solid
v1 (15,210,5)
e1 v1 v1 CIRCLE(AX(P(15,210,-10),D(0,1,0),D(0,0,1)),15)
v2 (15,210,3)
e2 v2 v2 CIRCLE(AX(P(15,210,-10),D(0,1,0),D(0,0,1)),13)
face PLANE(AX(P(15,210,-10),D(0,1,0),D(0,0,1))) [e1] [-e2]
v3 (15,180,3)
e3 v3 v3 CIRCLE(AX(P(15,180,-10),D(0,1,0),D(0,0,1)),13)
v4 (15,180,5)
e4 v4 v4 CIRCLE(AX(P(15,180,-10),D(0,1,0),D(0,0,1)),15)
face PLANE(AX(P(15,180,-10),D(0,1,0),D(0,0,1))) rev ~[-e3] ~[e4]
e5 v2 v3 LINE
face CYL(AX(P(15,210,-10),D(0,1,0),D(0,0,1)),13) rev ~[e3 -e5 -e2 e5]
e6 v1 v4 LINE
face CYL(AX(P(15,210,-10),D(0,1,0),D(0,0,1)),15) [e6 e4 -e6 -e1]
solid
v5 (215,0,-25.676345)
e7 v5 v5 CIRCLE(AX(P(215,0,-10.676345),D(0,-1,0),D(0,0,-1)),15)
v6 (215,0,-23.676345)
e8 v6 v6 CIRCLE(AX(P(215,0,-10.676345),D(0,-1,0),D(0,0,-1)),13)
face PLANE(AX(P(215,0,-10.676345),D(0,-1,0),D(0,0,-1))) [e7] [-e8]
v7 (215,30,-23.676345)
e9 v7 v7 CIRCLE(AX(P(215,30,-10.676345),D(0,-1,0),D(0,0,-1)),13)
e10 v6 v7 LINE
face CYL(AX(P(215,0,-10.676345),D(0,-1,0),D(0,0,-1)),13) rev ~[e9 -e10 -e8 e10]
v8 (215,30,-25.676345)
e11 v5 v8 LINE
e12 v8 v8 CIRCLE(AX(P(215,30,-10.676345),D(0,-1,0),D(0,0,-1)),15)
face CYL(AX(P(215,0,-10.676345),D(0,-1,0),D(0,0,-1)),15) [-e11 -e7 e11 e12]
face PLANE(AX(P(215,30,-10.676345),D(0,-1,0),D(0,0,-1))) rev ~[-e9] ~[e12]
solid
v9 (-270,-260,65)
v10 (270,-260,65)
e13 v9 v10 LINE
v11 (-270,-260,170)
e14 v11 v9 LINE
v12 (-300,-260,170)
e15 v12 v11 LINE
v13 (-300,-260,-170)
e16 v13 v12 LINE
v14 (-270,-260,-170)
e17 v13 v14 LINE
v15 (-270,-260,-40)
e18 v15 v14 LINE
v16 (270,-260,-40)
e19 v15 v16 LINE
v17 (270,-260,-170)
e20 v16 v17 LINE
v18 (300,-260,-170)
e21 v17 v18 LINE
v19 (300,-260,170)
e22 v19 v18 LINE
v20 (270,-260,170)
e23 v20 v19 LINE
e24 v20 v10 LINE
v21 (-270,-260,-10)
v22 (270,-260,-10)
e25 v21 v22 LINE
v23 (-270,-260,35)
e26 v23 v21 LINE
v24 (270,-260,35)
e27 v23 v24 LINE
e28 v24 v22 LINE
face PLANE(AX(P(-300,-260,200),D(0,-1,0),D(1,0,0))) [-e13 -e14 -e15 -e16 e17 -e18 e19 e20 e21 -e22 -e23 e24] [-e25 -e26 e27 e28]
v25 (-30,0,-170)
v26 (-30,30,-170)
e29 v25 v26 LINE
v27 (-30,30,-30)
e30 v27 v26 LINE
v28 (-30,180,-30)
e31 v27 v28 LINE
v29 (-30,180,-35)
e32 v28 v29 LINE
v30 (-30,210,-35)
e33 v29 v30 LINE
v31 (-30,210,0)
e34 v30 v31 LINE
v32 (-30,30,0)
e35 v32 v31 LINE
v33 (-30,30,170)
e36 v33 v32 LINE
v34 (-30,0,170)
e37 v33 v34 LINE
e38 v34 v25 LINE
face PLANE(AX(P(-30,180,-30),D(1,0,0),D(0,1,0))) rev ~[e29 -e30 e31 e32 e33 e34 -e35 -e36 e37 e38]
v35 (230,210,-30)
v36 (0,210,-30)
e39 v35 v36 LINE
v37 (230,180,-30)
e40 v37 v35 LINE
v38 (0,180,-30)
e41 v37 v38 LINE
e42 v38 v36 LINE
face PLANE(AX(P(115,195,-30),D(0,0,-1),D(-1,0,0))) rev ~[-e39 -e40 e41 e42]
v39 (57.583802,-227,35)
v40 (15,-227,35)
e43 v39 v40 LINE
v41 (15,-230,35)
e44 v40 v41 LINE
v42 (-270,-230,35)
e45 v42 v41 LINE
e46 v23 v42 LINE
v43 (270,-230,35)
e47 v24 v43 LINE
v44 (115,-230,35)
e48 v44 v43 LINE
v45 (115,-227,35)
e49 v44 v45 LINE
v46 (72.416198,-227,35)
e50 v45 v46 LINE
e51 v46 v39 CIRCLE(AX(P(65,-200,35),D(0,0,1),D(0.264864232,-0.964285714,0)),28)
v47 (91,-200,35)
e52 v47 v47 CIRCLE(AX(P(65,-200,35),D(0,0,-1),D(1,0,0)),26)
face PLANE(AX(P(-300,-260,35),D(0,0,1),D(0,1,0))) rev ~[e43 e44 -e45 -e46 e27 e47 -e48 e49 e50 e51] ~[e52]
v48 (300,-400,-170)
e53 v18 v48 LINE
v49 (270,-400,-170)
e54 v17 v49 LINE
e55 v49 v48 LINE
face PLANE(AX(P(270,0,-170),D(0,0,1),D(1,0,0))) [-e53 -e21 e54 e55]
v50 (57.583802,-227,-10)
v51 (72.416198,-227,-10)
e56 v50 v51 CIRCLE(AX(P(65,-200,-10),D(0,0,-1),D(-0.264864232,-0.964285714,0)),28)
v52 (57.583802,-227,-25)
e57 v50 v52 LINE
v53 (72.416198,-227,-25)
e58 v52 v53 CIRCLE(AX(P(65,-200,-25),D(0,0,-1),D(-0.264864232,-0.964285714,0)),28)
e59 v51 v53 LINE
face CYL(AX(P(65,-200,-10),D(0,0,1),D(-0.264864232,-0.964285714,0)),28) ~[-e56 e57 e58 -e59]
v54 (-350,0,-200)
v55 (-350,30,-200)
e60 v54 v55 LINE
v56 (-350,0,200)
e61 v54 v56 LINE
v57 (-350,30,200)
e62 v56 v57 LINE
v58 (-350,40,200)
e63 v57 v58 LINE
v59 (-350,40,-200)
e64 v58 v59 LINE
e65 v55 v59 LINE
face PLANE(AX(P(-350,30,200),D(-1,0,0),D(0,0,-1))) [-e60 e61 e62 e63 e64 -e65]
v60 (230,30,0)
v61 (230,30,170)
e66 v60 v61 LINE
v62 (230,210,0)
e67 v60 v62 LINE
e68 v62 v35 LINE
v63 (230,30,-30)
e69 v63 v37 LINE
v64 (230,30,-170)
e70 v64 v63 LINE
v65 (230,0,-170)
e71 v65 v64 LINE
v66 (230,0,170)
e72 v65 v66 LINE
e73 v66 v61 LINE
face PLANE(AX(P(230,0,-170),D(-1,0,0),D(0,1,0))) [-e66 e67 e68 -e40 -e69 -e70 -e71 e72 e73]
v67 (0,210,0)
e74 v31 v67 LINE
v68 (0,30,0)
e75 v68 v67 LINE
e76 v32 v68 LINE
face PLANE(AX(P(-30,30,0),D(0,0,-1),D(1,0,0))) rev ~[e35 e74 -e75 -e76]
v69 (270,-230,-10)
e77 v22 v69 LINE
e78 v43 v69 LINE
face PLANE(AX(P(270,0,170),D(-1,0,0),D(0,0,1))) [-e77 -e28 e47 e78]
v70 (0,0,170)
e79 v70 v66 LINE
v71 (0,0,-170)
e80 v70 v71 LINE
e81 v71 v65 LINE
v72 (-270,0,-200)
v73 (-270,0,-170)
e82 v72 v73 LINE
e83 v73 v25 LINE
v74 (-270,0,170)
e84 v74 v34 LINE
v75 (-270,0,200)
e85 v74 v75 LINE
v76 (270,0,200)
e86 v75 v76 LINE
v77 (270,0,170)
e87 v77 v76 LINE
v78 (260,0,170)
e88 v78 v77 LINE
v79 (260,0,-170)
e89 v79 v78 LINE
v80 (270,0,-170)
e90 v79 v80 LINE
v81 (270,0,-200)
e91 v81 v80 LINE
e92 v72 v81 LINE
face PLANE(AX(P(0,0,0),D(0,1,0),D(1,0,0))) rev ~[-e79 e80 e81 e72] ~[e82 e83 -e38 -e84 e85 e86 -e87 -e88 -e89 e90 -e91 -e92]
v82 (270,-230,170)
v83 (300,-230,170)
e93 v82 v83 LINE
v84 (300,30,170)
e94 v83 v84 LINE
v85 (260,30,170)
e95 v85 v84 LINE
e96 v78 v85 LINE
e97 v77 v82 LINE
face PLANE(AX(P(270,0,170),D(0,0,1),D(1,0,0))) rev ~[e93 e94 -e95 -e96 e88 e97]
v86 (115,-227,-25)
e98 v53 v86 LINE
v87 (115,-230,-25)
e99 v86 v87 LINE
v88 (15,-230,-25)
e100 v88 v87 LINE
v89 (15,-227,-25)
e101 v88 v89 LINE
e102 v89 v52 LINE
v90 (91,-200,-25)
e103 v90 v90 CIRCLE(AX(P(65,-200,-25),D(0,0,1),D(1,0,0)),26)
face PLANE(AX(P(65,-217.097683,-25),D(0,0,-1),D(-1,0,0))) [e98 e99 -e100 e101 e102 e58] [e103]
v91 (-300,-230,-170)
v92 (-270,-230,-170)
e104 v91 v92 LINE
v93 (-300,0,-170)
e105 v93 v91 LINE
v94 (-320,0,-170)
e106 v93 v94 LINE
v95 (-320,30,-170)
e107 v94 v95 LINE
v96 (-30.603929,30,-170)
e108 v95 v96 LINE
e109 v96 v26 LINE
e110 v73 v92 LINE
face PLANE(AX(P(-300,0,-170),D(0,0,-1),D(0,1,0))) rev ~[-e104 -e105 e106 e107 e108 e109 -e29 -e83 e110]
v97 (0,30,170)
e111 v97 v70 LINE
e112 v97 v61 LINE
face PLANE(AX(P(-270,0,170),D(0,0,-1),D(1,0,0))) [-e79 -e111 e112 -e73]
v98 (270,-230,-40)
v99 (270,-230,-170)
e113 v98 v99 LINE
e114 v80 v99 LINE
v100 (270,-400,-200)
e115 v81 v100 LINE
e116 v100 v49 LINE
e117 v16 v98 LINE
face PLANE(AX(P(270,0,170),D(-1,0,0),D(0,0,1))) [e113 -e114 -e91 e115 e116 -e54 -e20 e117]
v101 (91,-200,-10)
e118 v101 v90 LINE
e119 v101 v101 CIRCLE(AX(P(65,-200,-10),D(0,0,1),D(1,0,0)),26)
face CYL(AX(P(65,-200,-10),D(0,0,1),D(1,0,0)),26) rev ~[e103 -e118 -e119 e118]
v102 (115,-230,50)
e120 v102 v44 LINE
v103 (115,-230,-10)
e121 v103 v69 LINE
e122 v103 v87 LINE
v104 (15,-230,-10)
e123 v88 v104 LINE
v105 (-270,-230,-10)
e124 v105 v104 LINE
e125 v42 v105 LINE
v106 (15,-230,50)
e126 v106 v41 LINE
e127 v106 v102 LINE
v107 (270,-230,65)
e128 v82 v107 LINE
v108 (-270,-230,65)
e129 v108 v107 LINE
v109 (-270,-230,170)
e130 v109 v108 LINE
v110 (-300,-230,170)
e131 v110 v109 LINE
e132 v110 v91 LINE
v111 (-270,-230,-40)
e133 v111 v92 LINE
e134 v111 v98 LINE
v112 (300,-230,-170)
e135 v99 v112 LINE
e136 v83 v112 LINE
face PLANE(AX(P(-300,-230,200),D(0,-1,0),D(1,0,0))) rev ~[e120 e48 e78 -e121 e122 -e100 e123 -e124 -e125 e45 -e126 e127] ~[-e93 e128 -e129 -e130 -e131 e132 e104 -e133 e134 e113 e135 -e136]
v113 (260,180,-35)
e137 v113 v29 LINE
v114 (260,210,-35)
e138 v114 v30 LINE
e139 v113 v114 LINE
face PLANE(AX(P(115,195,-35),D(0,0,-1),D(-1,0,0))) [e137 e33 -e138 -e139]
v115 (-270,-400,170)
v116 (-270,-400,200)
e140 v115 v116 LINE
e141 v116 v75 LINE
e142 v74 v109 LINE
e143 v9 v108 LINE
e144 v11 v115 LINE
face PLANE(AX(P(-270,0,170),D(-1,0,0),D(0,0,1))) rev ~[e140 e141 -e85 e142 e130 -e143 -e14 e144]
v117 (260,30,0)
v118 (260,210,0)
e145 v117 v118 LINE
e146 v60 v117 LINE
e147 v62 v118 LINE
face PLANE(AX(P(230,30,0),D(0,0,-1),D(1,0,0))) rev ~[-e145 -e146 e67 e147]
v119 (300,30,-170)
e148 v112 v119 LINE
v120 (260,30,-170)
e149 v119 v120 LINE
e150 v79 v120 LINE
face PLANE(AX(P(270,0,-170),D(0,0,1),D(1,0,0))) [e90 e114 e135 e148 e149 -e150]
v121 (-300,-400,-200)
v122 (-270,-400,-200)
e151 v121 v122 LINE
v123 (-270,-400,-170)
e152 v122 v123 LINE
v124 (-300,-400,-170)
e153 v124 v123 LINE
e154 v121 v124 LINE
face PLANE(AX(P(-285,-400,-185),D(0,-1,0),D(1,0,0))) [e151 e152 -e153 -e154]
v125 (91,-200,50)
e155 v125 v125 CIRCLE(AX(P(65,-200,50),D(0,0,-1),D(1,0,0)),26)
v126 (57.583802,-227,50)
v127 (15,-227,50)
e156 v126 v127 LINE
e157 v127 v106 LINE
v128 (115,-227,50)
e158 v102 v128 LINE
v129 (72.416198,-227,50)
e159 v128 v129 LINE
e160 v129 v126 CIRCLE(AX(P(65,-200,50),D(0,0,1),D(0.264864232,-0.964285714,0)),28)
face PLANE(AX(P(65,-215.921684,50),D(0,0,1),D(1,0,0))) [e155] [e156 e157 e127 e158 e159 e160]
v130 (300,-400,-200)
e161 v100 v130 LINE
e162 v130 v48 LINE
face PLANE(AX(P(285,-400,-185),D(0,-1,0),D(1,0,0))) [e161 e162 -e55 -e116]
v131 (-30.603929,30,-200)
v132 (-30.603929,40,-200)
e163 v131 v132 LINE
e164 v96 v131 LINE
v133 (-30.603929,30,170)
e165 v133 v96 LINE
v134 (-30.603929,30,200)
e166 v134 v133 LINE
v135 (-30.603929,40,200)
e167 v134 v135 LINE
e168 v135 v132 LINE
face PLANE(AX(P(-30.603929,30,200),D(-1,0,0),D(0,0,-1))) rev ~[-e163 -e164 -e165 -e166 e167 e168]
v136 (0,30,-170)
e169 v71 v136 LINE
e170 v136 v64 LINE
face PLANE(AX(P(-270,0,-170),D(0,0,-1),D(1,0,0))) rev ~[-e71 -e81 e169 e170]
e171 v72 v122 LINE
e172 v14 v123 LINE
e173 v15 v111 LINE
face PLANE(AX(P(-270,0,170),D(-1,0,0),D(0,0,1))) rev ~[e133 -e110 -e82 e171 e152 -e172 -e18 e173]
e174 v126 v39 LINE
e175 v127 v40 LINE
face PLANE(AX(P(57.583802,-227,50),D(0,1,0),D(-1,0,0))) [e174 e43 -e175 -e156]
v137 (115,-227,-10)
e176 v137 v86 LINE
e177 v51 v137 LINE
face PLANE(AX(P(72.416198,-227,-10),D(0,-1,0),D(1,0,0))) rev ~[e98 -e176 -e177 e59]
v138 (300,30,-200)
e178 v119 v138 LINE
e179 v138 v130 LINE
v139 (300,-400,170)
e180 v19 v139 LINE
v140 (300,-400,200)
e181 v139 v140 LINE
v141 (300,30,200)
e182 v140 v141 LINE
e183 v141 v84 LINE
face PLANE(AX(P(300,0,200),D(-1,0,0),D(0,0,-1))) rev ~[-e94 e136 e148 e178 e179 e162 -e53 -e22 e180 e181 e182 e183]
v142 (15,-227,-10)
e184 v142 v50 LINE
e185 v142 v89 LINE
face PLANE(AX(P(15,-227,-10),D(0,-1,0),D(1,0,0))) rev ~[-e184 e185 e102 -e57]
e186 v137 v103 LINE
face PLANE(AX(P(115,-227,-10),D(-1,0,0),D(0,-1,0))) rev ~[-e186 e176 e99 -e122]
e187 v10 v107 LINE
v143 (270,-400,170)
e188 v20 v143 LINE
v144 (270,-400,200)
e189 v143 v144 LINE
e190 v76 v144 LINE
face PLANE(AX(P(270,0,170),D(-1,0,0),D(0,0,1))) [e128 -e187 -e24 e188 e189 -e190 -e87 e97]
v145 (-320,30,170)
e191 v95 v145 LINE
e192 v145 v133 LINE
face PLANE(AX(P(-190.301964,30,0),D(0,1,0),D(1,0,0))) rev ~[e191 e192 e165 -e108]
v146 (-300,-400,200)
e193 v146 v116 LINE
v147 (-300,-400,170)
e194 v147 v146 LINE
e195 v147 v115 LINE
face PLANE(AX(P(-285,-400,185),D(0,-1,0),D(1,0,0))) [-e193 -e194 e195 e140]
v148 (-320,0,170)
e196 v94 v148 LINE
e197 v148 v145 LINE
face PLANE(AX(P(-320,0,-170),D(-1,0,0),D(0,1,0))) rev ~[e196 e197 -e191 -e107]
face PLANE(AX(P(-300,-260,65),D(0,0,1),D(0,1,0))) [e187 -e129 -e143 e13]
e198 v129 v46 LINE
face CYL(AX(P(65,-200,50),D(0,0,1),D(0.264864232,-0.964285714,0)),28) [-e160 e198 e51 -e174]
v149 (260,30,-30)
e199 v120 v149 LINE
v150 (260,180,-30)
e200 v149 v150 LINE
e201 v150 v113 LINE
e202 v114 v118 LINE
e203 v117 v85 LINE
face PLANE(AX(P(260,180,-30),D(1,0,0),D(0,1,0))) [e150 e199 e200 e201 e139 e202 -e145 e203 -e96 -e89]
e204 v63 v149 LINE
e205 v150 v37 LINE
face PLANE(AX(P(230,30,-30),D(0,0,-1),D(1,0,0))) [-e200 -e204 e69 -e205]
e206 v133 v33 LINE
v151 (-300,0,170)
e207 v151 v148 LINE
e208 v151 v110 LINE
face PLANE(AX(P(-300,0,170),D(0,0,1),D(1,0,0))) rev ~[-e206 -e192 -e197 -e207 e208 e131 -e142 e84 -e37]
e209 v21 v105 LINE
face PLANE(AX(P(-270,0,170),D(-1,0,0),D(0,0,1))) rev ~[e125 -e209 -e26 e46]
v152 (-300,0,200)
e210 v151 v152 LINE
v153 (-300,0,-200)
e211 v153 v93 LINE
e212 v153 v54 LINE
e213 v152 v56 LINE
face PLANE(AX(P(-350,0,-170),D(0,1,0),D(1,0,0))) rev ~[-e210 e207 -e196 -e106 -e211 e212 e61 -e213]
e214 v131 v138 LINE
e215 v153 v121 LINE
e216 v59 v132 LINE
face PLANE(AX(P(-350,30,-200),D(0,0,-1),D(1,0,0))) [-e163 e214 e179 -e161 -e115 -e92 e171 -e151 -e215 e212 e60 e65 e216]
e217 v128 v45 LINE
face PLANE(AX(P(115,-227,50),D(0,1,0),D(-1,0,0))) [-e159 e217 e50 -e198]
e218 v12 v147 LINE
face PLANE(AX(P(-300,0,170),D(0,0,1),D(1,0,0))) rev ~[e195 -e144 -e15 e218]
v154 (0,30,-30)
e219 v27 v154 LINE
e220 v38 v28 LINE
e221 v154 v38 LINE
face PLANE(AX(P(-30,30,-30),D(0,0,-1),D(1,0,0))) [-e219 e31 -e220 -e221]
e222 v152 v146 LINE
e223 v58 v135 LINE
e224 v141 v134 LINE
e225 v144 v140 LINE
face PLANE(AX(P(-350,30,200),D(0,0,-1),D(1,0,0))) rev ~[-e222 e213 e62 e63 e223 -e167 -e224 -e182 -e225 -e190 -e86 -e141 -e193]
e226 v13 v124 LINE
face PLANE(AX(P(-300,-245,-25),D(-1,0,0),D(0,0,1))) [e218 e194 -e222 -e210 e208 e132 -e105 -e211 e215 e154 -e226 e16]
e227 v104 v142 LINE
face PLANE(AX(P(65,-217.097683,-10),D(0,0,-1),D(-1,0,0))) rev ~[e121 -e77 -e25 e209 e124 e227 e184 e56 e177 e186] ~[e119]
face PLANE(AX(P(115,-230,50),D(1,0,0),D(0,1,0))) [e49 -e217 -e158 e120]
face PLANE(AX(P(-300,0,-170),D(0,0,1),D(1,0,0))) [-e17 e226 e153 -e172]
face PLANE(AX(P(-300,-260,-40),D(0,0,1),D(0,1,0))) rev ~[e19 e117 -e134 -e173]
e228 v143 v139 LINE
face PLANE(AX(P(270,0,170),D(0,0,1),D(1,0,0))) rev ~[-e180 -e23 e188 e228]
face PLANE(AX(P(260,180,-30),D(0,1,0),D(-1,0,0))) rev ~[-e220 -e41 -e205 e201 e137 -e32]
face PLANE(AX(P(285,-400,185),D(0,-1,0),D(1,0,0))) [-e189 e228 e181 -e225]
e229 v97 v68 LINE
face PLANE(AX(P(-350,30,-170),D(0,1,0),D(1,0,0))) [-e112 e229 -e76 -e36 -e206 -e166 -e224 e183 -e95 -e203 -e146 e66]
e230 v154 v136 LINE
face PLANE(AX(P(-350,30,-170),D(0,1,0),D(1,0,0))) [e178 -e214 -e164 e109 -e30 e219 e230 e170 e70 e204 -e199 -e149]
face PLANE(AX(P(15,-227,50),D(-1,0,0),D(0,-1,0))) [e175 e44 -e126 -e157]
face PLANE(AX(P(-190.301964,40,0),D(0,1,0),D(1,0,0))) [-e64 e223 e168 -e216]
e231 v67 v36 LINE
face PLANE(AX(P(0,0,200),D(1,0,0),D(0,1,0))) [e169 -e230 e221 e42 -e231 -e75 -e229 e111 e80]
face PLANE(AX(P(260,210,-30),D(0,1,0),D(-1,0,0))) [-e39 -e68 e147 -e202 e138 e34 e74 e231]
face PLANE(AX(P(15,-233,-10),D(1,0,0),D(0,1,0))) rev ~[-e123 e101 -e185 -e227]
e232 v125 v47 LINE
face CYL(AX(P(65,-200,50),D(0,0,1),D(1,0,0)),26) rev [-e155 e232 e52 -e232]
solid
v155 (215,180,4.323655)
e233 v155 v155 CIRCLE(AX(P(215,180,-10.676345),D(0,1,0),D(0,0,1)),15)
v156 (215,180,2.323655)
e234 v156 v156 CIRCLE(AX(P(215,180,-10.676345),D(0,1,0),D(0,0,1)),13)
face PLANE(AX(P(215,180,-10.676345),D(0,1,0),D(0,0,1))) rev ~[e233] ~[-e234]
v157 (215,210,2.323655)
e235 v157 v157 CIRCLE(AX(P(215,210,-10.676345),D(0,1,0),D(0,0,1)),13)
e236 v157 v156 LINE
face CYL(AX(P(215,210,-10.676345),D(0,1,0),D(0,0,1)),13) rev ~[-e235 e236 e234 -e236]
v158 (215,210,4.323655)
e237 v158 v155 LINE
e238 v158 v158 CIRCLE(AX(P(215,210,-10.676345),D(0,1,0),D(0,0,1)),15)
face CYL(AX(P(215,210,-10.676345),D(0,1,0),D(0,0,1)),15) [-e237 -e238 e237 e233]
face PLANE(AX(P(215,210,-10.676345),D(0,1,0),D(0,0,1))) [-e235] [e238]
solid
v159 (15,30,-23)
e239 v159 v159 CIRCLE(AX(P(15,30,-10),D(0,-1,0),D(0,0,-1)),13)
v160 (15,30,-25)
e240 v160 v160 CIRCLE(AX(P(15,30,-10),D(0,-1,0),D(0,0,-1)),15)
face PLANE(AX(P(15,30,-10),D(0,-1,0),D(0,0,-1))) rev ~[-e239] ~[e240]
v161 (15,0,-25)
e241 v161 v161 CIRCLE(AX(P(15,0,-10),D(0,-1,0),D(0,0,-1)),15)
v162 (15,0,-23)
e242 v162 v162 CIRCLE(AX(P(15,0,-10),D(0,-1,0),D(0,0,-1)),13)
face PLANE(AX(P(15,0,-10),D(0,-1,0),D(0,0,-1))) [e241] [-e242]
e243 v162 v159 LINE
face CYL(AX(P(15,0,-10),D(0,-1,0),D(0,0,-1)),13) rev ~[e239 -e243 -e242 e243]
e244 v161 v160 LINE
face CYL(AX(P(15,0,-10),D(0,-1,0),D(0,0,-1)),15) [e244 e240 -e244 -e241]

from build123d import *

# Parameters (mm, degrees)
SKETCH4_W              = 600
SKETCH4_H              = 400
SKETCH4_W_2            = 540
SKETCH4_H_2            = 340
BOSS_EXTRUDE2_DEPTH    = 30
SKETCH10_W             = 30
SKETCH10_H             = 30
BOSS_EXTRUDE7_DEPTH    = 370
SKETCH17_W             = 30
SKETCH17_H             = 30
BOSS_EXTRUDE13_DEPTH   = 500
SKETCH18_W             = 30
SKETCH18_H             = 30
BOSS_EXTRUDE14_DEPTH   = 370
SKETCH19_W             = 30
SKETCH19_H             = 30
BOSS_EXTRUDE15_DEPTH   = 570
SKETCH21_R             = 26
BOSS_EXTRUDE17_DEPTH   = 15
BOSS_EXTRUDE18_START   = -15
SKETCH22_R             = 26
BOSS_EXTRUDE18_DEPTH   = 15
SKETCH23_W             = 30
SKETCH23_H             = 30
CUT_EXTRUDE2_DEPTH     = 100
SKETCH27_W             = 30
SKETCH27_H             = 30
BOSS_EXTRUDE22_DEPTH   = 340
SKETCH28_W             = 30
SKETCH28_H             = 30
BOSS_EXTRUDE23_DEPTH   = 180
SKETCH31_R             = 15
SKETCH31_R_2           = 13
BOSS_EXTRUDE24_DEPTH   = 30
BOSS_EXTRUDE24_2_DEPTH = 30
SKETCH34_R             = 15
SKETCH34_R_2           = 13
BOSS_EXTRUDE25_DEPTH   = 30
BOSS_EXTRUDE25_2_DEPTH = 30
SKETCH35_W             = 30
SKETCH35_H             = 30
CUT_EXTRUDE3_DEPTH     = 340
SKETCH36_W             = 30
SKETCH36_H             = 30
CUT_EXTRUDE4_DEPTH     = 340
SKETCH37_W             = 30
SKETCH37_H             = 30
BOSS_EXTRUDE26_DEPTH   = 50
SKETCH38_W             = 30
SKETCH38_H             = 30
BOSS_EXTRUDE27_DEPTH   = 340
SKETCH39_W             = 319.396071149
SKETCH39_H             = 400
BOSS_EXTRUDE28_DEPTH   = 10
SKETCH42_W             = 290
SKETCH42_H             = 30
BOSS_EXTRUDE31_DEPTH   = 5


with BuildPart() as part:
    # Sketch4 → Boss-Extrude2 (new body)
    with BuildSketch(Plane(origin=(0, 0, 0), x_dir=(1, 0, 0), z_dir=(0, 1, 0))):
        Rectangle(SKETCH4_W, SKETCH4_H)
        Rectangle(SKETCH4_W_2, SKETCH4_H_2, mode=Mode.SUBTRACT)
    extrude(amount=BOSS_EXTRUDE2_DEPTH)

    # Sketch10 → Boss-Extrude7 (add)
    with BuildSketch(Plane.XY.offset(200)):
        with Locations((-15, 15)):
            Rectangle(SKETCH10_W, SKETCH10_H)
    extrude(amount=-BOSS_EXTRUDE7_DEPTH)

    # Sketch17 → Boss-Extrude13 (add)
    with BuildSketch(Plane.XZ):
        with Locations((-285, 185)):
            Rectangle(SKETCH17_W, SKETCH17_H)
        with Locations((285, 185)):
            Rectangle(SKETCH17_W, SKETCH17_H)
        with Locations((285, -185)):
            Rectangle(SKETCH17_W, SKETCH17_H)
        with Locations((-285, -185)):
            Rectangle(SKETCH17_W, SKETCH17_H)
    extrude(amount=BOSS_EXTRUDE13_DEPTH)

    # Sketch18 → Boss-Extrude14 (add)
    with BuildSketch(Plane.XY.offset(200)):
        with Locations((285, -245)):
            Rectangle(SKETCH18_W, SKETCH18_H)
        with Locations((-285, -245)):
            Rectangle(SKETCH18_W, SKETCH18_H)
    extrude(amount=-BOSS_EXTRUDE14_DEPTH)

    # Sketch19 → Boss-Extrude15 (add)
    with BuildSketch(Plane.ZY.offset(300)):
        with Locations((-25, -245)):
            Rectangle(SKETCH19_W, SKETCH19_H)
        with Locations((50, -245)):
            Rectangle(SKETCH19_W, SKETCH19_H)
    extrude(amount=-BOSS_EXTRUDE15_DEPTH)

    # Sketch21 → Boss-Extrude17 (add)
    with BuildSketch(Plane.XY.offset(-10)):
        with BuildLine():
            Line((72.416198487, -227), (115, -227))
            Line((115, -227), (115, -233))
            Line((115, -233), (15, -233))
            Line((15, -233), (15, -227))
            Line((15, -227), (57.583801513, -227))
            ThreePointArc((57.583801513, -227), (65, -172), (72.416198487, -227))
        make_face()
        with Locations((65, -200)):
            Circle(SKETCH21_R, mode=Mode.SUBTRACT)
    extrude(amount=-BOSS_EXTRUDE17_DEPTH)

    # Sketch22 → Boss-Extrude18 (add)
    with BuildSketch(Plane(origin=(0, 0, 35), x_dir=(-1, 0, 0), z_dir=(0, 0, -1)).offset(BOSS_EXTRUDE18_START)):
        with BuildLine():
            Line((-57.583801513, -227), (-15, -227))
            Line((-15, -227), (-15, -230))
            Line((-15, -230), (-115, -230))
            Line((-115, -230), (-115, -227))
            Line((-115, -227), (-72.416198487, -227))
            ThreePointArc((-72.416198487, -227), (-65, -172), (-57.583801513, -227))
        make_face()
        with Locations(Location((-65, -200, 0), (0, 0, 180))):
            Circle(SKETCH22_R, mode=Mode.SUBTRACT)
    extrude(amount=BOSS_EXTRUDE18_DEPTH)

    # Sketch23 → Cut-Extrude2 (cut)
    with BuildSketch(Plane.XZ.offset(500)):
        with Locations((-285, 185)):
            Rectangle(SKETCH23_W, SKETCH23_H)
        with Locations((285, 185)):
            Rectangle(SKETCH23_W, SKETCH23_H)
        with Locations((285, -185)):
            Rectangle(SKETCH23_W, SKETCH23_H)
        with Locations((-285, -185)):
            Rectangle(SKETCH23_W, SKETCH23_H)
    extrude(amount=-CUT_EXTRUDE2_DEPTH, mode=Mode.SUBTRACT)

    # Sketch27 → Boss-Extrude22 (add)
    with BuildSketch(Plane.XY.offset(-170)):
        with Locations((245, 15)):
            Rectangle(SKETCH27_W, SKETCH27_H)
    extrude(amount=BOSS_EXTRUDE22_DEPTH)

    # Sketch28 → Boss-Extrude23 (add)
    with BuildSketch(Plane(origin=(0, 30, 0), x_dir=(1, 0, 0), z_dir=(0, 1, 0))):
        with Locations((-15, 15)):
            Rectangle(SKETCH28_W, SKETCH28_H)
        with Locations((245, 15)):
            Rectangle(SKETCH28_W, SKETCH28_H)
    extrude(amount=BOSS_EXTRUDE23_DEPTH)

    # Sketch35 → Cut-Extrude3 (cut)
    with BuildSketch(Plane.XY.offset(-170)):
        with Locations((285, 15)):
            Rectangle(SKETCH35_W, SKETCH35_H)
    extrude(amount=CUT_EXTRUDE3_DEPTH, mode=Mode.SUBTRACT)

    # Sketch36 → Cut-Extrude4 (cut)
    with BuildSketch(Plane.XY.offset(-170)):
        with Locations((-285, 15)):
            Rectangle(SKETCH36_W, SKETCH36_H)
    extrude(amount=CUT_EXTRUDE4_DEPTH, mode=Mode.SUBTRACT)

    # Sketch37 → Boss-Extrude26 (add)
    with BuildSketch(Plane.ZY.offset(300)):
        with Locations((-185, 15)):
            Rectangle(SKETCH37_W, SKETCH37_H)
        with Locations((185, 15)):
            Rectangle(SKETCH37_W, SKETCH37_H)
    extrude(amount=BOSS_EXTRUDE26_DEPTH)

    # Sketch38 → Boss-Extrude27 (add)
    with BuildSketch(Plane.XY.offset(-170)):
        with Locations((-335, 15)):
            Rectangle(SKETCH38_W, SKETCH38_H)
    extrude(amount=BOSS_EXTRUDE27_DEPTH)

    # Sketch39 → Boss-Extrude28 (add)
    with BuildSketch(Plane(origin=(0, 30, 0), x_dir=(1, 0, 0), z_dir=(0, 1, 0))):
        with Locations((-190.301964425, 0)):
            Rectangle(SKETCH39_W, SKETCH39_H)
    extrude(amount=BOSS_EXTRUDE28_DEPTH)

    # Sketch42 → Boss-Extrude31 (add)
    with BuildSketch(Plane(origin=(0, 0, -30), x_dir=(-1, 0, 0), z_dir=(0, 0, -1))):
        with Locations((-115, 195)):
            Rectangle(SKETCH42_W, SKETCH42_H)
    extrude(amount=BOSS_EXTRUDE31_DEPTH)


with BuildPart() as body_2:
    # Sketch31 → Boss-Extrude24 (new body)
    with BuildSketch(Plane.XZ):
        with Locations(Location((15, -10, 0), (0, 0, 270))):
            Circle(SKETCH31_R)
        with Locations(Location((15, -10, 0), (0, 0, 270))):
            Circle(SKETCH31_R_2, mode=Mode.SUBTRACT)
    extrude(amount=-BOSS_EXTRUDE24_DEPTH)


with BuildPart() as body_3:
    # Sketch31 → Boss-Extrude24 2 (new body)
    with BuildSketch(Plane.XZ):
        with Locations(Location((215, -10.676344756, 0), (0, 0, 270))):
            Circle(SKETCH31_R)
        with Locations(Location((215, -10.676344756, 0), (0, 0, 270))):
            Circle(SKETCH31_R_2, mode=Mode.SUBTRACT)
    extrude(amount=-BOSS_EXTRUDE24_2_DEPTH)


with BuildPart() as body_4:
    # Sketch34 → Boss-Extrude25 (new body)
    with BuildSketch(Plane(origin=(0, 210, 0), x_dir=(1, 0, 0), z_dir=(0, 1, 0))):
        with Locations(Location((15, 10, 0), (0, 0, 270))):
            Circle(SKETCH34_R)
        with Locations(Location((15, 10, 0), (0, 0, 270))):
            Circle(SKETCH34_R_2, mode=Mode.SUBTRACT)
    extrude(amount=-BOSS_EXTRUDE25_DEPTH)


with BuildPart() as body_5:
    # Sketch34 → Boss-Extrude25 2 (new body)
    with BuildSketch(Plane(origin=(0, 210, 0), x_dir=(1, 0, 0), z_dir=(0, 1, 0))):
        with Locations(Location((215, 10.676344756, 0), (0, 0, 270))):
            Circle(SKETCH34_R)
        with Locations(Location((215, 10.676344756, 0), (0, 0, 270))):
            Circle(SKETCH34_R_2, mode=Mode.SUBTRACT)
    extrude(amount=-BOSS_EXTRUDE25_2_DEPTH)


solid = Compound([part.part, body_2.part, body_3.part, body_4.part, body_5.part])
